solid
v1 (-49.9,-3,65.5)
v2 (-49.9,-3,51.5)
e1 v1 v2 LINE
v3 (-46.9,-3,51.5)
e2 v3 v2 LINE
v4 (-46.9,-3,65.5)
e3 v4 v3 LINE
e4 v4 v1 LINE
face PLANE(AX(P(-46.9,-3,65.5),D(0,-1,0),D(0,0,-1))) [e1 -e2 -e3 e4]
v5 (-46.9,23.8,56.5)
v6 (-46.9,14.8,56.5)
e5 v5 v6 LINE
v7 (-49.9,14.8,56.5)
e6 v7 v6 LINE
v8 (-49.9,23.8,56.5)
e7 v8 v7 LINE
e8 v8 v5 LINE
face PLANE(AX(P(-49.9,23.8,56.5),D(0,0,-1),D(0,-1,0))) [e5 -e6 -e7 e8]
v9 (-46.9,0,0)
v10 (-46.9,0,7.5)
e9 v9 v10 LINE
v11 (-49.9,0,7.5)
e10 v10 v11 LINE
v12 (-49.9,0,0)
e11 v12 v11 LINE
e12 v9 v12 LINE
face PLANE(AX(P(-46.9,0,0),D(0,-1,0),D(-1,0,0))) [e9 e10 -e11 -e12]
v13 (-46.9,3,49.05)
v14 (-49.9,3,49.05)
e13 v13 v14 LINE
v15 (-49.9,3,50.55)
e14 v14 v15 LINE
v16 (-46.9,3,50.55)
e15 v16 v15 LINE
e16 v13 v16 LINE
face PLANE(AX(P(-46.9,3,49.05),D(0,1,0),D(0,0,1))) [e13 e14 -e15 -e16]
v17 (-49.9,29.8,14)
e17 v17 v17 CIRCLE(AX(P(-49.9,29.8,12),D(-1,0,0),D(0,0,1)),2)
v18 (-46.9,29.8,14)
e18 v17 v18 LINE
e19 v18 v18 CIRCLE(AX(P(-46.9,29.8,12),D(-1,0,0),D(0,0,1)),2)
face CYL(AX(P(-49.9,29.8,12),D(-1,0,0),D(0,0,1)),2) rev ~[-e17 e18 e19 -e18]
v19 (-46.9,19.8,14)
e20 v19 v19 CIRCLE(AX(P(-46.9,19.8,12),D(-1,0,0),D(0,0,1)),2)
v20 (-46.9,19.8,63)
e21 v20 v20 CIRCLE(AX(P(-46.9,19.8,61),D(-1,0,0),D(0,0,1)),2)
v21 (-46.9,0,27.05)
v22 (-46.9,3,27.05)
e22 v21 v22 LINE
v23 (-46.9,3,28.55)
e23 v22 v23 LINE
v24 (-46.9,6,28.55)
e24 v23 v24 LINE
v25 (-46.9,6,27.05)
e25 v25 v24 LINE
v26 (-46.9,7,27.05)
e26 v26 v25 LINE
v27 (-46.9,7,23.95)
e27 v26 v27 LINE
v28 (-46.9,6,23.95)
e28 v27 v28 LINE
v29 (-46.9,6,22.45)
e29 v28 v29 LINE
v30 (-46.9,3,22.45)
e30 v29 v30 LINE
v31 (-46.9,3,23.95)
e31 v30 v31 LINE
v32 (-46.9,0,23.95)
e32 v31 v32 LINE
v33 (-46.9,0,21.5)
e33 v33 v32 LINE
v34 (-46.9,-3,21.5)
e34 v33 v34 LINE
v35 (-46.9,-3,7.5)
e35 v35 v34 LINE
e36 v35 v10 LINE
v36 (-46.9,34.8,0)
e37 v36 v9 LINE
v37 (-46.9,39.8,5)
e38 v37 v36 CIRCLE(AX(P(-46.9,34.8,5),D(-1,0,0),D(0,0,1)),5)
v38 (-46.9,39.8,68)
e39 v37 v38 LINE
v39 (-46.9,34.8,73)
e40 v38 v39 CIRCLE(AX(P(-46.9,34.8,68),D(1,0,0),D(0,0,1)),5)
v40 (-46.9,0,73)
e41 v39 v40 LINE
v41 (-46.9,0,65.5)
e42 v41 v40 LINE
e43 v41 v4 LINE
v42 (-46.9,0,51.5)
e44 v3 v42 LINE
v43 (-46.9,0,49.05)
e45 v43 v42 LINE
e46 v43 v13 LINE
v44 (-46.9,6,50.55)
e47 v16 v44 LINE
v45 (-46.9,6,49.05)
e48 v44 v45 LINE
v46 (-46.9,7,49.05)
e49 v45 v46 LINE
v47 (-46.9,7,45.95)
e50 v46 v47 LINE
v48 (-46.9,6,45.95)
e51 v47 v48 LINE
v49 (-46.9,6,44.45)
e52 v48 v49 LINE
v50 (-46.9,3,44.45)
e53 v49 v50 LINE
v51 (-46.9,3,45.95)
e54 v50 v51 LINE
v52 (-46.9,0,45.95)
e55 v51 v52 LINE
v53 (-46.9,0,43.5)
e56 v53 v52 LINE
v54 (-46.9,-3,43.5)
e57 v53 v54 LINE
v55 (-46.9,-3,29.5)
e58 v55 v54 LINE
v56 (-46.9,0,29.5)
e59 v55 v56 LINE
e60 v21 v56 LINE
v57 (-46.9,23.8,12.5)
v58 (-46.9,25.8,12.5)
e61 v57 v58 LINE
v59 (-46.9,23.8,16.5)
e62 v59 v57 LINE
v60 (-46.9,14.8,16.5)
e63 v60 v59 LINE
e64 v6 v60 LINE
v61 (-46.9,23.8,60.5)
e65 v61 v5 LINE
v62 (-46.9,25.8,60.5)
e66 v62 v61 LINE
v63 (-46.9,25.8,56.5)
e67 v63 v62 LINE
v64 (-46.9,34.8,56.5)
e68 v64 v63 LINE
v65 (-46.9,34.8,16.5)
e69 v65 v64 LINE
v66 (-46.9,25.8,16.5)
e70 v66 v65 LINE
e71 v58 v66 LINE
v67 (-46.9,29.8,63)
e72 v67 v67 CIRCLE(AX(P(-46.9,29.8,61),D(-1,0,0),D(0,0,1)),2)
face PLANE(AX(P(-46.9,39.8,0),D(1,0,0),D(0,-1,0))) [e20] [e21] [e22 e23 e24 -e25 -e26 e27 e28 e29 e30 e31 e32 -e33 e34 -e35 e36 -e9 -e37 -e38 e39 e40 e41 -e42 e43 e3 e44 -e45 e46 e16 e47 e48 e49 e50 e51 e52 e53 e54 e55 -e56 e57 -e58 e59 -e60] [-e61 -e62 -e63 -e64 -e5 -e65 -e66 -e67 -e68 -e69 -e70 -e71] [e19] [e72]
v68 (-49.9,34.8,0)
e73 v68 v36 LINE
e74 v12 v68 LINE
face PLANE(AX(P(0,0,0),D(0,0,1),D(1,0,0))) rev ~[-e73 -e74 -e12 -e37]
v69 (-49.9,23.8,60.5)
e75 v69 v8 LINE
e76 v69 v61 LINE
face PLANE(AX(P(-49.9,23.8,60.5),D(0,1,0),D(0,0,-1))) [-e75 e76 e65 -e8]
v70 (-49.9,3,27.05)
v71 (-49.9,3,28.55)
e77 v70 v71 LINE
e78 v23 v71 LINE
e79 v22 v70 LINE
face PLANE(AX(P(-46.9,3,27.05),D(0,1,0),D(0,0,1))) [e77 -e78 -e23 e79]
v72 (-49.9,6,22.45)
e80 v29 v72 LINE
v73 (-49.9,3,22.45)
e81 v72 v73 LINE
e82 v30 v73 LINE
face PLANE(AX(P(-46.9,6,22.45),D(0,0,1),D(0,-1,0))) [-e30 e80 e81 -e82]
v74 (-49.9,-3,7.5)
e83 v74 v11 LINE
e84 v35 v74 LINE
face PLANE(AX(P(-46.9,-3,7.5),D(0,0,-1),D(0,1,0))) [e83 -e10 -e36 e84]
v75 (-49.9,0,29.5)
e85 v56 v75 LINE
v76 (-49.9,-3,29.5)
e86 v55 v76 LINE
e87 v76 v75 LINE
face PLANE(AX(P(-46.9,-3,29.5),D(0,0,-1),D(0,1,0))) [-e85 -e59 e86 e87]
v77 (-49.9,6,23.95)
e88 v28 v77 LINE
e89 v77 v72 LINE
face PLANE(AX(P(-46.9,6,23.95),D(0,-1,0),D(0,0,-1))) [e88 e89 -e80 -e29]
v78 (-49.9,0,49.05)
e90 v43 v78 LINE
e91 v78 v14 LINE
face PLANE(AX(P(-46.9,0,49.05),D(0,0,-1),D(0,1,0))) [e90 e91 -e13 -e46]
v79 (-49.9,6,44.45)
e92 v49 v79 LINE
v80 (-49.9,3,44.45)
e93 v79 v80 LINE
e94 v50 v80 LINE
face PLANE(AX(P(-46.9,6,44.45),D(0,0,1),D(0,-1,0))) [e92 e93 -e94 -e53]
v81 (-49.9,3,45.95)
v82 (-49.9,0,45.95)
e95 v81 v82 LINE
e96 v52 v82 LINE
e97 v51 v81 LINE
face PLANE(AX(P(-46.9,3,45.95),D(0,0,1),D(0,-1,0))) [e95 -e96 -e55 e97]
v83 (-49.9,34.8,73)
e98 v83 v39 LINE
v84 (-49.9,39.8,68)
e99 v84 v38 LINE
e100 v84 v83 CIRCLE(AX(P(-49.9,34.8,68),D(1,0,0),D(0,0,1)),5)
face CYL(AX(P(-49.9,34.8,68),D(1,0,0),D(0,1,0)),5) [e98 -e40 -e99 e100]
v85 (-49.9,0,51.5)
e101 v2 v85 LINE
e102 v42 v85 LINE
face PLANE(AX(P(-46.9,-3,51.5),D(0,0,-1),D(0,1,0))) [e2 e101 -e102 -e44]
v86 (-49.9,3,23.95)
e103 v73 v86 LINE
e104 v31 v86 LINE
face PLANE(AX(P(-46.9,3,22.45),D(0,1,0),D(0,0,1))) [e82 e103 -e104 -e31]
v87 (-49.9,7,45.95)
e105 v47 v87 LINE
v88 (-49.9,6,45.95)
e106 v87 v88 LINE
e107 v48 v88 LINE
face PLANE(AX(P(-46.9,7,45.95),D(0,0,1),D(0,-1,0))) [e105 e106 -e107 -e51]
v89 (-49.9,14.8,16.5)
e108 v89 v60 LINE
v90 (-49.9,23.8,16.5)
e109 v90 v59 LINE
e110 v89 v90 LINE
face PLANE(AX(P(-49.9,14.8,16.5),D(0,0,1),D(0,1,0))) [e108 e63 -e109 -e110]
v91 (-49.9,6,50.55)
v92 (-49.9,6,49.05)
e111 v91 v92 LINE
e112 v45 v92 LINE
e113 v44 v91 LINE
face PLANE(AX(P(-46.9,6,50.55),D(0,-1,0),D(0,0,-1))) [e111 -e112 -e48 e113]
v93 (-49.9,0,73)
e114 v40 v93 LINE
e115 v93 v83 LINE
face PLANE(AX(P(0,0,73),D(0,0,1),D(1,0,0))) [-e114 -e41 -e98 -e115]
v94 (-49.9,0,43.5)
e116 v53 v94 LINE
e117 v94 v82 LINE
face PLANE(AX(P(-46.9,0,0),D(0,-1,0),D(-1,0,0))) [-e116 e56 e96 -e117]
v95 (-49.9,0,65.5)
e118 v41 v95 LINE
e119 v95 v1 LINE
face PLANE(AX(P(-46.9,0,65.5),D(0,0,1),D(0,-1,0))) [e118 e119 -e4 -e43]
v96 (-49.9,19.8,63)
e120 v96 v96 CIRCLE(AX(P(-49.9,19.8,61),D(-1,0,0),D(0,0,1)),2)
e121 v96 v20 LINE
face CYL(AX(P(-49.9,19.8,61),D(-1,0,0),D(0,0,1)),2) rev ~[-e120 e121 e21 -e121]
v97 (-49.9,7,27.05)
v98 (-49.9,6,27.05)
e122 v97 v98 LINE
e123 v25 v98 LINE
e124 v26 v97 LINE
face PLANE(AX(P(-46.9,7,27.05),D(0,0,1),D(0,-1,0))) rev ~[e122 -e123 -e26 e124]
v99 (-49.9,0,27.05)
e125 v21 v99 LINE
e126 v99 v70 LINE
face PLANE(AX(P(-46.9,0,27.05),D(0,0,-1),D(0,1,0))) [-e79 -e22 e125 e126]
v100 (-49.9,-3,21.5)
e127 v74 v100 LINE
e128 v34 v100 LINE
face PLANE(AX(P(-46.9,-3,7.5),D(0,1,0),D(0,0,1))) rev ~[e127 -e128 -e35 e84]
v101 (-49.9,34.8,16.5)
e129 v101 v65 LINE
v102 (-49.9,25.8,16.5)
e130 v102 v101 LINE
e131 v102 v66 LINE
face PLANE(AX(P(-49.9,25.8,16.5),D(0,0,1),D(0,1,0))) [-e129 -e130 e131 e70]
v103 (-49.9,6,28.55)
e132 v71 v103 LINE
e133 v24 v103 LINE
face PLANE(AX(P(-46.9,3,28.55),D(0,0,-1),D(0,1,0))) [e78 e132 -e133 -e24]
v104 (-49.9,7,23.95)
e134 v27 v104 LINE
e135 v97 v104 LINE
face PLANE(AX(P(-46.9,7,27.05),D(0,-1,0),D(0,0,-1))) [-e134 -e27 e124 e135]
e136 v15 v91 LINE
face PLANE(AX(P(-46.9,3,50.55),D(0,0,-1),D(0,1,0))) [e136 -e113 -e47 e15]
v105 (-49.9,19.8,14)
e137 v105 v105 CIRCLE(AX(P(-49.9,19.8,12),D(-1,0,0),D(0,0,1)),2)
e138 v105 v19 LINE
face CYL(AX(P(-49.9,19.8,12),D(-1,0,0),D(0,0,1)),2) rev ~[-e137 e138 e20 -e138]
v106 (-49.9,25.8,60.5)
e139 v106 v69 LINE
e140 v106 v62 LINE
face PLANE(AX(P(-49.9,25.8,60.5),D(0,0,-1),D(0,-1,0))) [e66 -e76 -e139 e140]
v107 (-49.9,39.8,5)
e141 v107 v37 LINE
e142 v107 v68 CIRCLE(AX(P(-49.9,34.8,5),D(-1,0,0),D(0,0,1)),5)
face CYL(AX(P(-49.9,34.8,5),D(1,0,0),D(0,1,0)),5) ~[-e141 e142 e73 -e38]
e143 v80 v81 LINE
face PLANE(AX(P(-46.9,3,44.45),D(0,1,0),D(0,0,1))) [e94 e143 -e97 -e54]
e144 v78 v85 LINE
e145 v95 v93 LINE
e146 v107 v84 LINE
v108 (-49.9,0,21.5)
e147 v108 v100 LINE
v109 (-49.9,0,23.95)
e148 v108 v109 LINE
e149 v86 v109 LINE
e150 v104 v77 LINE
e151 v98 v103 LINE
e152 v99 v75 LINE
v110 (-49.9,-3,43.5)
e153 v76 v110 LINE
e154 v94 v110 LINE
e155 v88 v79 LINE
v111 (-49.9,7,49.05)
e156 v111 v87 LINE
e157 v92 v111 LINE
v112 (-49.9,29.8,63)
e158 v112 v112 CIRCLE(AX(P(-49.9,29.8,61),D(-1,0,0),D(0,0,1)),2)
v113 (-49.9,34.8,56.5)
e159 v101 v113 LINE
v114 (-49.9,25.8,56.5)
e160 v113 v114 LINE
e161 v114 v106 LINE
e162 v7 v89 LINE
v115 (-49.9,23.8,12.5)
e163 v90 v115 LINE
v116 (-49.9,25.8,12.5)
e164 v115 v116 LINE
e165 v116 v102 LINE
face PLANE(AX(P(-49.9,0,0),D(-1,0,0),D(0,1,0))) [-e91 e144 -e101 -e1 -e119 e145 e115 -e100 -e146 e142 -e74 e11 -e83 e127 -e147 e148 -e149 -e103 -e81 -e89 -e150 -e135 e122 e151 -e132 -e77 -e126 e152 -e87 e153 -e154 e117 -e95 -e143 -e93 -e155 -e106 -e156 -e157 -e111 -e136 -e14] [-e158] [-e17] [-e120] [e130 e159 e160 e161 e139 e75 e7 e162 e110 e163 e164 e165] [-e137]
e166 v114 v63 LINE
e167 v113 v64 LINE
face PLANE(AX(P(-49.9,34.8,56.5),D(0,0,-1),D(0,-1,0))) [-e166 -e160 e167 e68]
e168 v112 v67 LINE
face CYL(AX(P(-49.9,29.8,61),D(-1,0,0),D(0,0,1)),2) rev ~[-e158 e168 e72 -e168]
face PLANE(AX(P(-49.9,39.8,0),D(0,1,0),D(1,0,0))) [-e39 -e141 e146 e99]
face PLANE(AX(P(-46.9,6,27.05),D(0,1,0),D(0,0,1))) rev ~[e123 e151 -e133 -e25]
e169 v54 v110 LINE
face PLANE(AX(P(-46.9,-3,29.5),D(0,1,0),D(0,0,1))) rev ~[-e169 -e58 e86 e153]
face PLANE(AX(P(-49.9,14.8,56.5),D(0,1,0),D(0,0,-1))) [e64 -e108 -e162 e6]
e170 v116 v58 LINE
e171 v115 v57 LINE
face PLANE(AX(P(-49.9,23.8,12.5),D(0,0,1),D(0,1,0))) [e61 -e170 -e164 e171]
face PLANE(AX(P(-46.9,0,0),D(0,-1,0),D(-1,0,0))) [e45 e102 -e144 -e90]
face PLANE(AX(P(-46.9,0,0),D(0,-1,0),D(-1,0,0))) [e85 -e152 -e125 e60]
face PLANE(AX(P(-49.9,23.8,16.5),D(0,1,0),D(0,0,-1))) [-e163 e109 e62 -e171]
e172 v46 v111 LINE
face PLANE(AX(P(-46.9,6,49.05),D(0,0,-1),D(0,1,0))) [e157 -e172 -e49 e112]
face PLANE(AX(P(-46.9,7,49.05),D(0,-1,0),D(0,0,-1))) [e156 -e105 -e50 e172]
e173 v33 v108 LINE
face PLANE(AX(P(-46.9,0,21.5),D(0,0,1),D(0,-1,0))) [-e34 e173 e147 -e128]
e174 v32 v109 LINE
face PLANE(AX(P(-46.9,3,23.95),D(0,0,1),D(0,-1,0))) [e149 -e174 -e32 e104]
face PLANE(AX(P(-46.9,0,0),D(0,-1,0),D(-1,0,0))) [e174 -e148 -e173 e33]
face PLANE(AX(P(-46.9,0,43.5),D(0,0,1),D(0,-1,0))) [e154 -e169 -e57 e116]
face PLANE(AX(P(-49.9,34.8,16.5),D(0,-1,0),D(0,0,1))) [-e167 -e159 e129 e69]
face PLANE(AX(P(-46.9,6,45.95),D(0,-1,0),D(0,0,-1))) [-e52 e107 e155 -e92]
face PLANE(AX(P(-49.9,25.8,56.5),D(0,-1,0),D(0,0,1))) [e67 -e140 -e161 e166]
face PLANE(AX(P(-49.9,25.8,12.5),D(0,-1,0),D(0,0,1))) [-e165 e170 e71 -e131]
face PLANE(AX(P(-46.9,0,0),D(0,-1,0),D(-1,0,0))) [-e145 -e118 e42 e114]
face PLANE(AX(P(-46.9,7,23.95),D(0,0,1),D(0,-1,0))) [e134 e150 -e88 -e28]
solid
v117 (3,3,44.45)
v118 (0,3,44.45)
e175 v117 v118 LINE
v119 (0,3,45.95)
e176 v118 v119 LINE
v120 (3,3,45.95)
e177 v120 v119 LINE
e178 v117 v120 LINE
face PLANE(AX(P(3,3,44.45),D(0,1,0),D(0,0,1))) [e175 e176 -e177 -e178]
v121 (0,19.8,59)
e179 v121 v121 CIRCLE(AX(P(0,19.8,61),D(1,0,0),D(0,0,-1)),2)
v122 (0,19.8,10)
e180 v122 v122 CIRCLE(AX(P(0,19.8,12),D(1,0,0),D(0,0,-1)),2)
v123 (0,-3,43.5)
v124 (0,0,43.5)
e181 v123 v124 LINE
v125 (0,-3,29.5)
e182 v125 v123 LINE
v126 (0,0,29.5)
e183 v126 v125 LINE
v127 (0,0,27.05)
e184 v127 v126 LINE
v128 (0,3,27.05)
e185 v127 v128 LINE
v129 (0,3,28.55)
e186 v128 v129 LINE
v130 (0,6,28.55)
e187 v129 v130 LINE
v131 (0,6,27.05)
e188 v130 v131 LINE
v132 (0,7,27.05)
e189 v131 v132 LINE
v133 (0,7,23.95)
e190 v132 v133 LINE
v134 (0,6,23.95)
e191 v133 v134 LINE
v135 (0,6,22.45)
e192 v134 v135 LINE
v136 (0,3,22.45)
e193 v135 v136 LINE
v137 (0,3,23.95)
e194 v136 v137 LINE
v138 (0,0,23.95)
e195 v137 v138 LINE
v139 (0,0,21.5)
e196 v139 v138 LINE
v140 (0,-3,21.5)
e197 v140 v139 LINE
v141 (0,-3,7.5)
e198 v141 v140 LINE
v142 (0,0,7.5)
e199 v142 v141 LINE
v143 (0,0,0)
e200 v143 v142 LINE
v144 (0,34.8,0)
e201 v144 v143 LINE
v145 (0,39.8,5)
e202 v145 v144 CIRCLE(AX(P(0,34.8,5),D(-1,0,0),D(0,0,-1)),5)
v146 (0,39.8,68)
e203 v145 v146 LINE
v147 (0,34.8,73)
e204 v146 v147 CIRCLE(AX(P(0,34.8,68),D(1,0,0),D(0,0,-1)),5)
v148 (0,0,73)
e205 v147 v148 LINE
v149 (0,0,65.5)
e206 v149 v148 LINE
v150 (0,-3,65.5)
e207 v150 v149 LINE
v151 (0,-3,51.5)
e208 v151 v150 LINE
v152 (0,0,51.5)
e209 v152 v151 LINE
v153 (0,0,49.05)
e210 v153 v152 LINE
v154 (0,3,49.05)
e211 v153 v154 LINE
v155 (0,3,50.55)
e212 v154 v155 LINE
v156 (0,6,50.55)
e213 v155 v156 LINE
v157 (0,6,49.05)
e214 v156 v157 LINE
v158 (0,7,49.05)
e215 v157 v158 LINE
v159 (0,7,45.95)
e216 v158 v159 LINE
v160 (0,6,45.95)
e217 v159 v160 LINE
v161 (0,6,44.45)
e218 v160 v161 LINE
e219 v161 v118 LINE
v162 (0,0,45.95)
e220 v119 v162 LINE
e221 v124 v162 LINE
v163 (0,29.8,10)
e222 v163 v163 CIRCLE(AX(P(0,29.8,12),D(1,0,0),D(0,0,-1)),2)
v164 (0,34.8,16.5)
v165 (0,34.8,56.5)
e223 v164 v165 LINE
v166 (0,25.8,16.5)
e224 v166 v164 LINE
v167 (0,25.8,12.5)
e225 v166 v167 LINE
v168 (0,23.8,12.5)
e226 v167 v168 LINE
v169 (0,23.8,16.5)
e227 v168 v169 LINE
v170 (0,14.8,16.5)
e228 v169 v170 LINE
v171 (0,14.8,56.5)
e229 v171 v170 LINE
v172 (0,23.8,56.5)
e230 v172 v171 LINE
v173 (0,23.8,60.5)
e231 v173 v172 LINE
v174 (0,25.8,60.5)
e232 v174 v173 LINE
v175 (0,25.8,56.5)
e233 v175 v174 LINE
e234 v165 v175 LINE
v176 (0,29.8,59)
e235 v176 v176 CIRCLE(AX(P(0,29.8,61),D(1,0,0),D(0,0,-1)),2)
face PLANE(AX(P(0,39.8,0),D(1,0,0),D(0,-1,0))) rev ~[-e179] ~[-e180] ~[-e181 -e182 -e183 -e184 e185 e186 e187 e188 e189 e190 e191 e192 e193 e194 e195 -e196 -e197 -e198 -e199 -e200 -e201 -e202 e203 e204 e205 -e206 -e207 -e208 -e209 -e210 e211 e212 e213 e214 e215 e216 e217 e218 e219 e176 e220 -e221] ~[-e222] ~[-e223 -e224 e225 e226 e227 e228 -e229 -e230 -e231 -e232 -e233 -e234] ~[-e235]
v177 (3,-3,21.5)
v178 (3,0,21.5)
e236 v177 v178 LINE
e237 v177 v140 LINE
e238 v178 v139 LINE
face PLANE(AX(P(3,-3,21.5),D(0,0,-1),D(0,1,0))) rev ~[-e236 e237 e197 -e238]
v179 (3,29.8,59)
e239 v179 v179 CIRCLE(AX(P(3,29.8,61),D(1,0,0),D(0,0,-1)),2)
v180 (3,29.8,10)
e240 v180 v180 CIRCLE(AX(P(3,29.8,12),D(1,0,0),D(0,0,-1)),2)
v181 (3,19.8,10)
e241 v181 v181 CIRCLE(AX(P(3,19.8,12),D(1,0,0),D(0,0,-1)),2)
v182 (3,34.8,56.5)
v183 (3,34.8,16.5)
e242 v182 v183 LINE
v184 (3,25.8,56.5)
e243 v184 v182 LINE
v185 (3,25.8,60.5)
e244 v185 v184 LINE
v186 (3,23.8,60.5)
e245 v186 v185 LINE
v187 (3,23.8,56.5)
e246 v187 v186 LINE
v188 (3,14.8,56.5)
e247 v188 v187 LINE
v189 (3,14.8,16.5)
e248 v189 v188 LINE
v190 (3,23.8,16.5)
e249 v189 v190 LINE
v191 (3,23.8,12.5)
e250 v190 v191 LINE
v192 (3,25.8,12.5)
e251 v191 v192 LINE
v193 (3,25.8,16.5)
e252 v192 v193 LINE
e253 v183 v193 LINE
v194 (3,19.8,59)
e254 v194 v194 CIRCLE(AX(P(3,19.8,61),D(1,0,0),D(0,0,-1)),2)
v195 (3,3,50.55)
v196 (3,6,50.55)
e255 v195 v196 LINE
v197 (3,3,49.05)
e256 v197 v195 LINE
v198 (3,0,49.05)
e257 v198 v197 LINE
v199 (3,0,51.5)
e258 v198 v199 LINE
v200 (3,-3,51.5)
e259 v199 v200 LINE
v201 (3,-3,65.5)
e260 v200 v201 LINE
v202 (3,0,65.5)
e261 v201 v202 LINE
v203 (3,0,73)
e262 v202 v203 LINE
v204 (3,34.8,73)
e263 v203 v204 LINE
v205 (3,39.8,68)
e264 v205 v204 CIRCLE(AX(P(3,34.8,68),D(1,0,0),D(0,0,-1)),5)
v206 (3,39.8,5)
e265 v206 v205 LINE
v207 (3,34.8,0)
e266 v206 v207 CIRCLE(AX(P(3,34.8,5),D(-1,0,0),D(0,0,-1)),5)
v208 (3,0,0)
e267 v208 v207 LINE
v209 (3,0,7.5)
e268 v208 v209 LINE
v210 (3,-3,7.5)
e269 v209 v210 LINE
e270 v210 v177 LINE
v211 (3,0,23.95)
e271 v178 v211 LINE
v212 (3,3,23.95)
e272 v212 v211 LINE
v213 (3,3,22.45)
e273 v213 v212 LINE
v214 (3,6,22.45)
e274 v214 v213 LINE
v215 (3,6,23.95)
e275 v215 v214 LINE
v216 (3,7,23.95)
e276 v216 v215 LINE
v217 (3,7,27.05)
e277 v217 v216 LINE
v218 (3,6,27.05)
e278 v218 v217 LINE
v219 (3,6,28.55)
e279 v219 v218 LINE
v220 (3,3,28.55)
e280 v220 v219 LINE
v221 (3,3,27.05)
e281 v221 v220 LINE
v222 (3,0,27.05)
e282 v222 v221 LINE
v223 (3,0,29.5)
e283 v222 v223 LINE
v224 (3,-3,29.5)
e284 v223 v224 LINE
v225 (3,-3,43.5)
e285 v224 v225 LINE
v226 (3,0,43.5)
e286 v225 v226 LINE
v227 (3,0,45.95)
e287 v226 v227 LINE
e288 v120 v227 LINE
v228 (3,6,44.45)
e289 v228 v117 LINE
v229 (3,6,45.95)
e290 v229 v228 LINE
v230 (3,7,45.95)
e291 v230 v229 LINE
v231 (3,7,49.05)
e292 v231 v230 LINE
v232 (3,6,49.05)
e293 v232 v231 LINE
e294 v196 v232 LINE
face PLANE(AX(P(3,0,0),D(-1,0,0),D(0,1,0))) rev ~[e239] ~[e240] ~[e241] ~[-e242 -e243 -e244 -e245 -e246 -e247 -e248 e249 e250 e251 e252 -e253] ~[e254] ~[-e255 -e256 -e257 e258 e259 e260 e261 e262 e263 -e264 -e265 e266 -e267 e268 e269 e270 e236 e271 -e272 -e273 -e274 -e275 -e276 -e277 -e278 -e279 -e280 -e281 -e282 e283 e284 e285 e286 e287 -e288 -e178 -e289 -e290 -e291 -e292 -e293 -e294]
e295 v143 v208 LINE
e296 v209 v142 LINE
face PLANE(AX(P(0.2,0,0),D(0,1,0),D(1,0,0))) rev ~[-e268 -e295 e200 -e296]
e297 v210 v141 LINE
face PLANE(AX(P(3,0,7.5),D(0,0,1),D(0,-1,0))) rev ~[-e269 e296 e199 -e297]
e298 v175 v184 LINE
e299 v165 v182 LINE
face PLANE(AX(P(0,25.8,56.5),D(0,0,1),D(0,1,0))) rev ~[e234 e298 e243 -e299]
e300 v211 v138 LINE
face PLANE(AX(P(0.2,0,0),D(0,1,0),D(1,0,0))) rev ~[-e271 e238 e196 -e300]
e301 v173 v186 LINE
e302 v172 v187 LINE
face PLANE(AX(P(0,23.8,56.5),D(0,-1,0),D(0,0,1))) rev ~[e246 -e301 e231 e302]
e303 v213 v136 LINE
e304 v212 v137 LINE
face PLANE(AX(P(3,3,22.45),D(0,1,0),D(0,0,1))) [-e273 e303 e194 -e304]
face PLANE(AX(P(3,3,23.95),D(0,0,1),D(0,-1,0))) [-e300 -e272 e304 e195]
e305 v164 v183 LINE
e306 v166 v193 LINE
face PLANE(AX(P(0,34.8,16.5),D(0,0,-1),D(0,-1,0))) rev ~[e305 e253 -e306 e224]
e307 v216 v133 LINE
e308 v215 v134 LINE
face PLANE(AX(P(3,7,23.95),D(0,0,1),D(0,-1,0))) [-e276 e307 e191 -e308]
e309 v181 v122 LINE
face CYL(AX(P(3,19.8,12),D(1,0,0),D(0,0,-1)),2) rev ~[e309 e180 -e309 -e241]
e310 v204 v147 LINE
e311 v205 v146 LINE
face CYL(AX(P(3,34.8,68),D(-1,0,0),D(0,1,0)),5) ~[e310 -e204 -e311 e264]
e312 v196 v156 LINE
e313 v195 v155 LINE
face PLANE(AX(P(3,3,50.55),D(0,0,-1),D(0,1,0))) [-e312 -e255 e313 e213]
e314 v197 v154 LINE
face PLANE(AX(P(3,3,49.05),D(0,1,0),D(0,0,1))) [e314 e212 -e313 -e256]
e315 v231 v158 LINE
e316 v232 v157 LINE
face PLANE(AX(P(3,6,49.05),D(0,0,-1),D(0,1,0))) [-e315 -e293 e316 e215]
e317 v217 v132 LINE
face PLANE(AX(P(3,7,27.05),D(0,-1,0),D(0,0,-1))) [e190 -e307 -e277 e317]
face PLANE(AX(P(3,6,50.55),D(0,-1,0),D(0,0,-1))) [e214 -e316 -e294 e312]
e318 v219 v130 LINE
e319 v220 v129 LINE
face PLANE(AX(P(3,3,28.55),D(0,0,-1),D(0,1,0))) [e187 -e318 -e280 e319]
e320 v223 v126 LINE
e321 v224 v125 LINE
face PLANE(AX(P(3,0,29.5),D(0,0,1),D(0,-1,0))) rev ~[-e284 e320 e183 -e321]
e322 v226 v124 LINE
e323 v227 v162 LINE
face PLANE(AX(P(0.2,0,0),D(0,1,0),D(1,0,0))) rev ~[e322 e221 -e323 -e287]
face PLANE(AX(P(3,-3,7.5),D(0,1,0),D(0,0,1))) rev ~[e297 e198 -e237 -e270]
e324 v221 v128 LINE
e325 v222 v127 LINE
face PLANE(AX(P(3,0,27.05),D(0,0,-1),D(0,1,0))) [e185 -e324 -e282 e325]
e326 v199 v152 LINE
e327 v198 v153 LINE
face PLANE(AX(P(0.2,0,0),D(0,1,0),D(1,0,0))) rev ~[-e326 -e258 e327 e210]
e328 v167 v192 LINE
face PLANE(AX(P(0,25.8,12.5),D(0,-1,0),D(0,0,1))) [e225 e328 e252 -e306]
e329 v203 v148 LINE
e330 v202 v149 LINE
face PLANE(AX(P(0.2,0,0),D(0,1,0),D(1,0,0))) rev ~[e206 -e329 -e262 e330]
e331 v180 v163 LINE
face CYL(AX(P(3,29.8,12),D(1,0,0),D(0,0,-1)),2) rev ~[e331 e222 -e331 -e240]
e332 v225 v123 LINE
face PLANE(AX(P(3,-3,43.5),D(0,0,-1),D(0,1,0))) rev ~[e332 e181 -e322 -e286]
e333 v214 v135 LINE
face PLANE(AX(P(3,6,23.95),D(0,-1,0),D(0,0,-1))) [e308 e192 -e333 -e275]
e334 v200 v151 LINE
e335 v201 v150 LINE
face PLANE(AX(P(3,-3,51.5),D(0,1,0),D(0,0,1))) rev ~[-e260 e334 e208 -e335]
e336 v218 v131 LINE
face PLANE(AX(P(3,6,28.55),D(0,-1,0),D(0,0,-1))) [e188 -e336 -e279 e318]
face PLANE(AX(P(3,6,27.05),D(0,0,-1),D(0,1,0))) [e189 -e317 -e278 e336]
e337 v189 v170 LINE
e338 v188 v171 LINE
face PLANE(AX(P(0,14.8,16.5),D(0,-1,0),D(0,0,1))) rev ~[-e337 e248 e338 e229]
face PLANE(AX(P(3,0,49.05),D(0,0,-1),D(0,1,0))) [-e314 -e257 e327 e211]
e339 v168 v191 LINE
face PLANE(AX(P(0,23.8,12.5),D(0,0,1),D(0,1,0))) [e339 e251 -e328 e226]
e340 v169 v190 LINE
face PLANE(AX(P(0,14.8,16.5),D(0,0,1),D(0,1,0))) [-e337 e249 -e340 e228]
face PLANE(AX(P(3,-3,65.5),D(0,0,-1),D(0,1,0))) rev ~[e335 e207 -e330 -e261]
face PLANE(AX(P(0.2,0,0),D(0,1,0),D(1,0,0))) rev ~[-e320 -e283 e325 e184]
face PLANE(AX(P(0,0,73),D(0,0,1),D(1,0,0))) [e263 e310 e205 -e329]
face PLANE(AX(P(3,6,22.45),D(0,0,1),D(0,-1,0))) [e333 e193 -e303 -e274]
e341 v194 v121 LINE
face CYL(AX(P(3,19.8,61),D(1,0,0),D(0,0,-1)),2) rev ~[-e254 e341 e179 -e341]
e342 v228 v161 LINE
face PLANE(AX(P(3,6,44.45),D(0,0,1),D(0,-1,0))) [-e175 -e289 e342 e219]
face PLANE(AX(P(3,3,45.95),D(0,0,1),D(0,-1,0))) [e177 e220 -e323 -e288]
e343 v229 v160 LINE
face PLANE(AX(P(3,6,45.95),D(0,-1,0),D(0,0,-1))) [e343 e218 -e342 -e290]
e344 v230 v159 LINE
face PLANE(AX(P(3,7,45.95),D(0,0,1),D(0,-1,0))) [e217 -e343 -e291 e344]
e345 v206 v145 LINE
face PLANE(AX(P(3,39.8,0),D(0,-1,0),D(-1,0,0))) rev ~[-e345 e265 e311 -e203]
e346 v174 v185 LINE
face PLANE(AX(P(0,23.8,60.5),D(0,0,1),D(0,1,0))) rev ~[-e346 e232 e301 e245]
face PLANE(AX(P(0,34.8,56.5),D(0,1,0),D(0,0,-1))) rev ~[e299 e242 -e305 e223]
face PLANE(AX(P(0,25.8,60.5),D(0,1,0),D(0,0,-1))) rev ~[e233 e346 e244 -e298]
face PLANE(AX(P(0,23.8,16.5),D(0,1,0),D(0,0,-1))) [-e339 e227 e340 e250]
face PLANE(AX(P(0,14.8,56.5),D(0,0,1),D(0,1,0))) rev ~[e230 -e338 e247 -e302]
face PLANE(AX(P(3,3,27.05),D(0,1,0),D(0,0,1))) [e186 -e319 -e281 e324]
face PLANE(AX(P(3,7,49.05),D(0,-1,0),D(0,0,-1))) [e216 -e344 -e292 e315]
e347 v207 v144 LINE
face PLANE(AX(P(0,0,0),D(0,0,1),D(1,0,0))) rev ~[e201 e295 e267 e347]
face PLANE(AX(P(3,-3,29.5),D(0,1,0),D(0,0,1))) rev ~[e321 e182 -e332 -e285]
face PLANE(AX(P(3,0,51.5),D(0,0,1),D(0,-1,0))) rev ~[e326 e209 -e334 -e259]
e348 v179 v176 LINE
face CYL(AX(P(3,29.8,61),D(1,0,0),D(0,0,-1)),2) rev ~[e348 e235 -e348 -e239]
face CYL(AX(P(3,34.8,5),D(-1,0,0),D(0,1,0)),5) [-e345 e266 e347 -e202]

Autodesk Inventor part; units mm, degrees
ref_plane "YZ Plane" through (0, 0, 0) normal (1, 0, 0) x (0, 1, 0)
ref_plane "XZ Plane" through (0, 0, 0) normal (0, 1, 0) x (-1, 0, 0)
ref_plane "XY Plane" through (0, 0, 0) normal (0, 0, 1) x (1, 0, 0)
sketch "Sketch1" plane through (0, 0, 0) normal (0, 0, 1) x (1, 0, 0)
  line L0 (0, 0) -> (3, 0)
  line L1 (3, 0) -> (3, 39.8)
  line L2 (3, 39.8) -> (0, 39.8)
  line L3 (0, 39.8) -> (0, 0)
  line L4 (-50.3, 0) -> (-47, 0) construction
  line L5 (-47, 0) -> (-47, 3.3) construction
  line L6 (-50.3, 3.3) -> (-47, 3.3) construction
  line L7 (-50.3, 0) -> (-50.3, 3.3) construction
  line L8 (0.2, 0) -> (3.3, 0)
  line L9 (0.2, 0) -> (3.3, 0)
  line L10 (-46.9, 0) -> (-49.9, 0)
  line L11 (-49.9, 0) -> (-49.9, 39.8)
  line L12 (-49.9, 39.8) -> (-46.9, 39.8)
  line L13 (-46.9, 39.8) -> (-46.9, 0)
  dimension "d0" = 3
  dimension "d1" = 39.8
  dimension "d22" = 3
  dimension "d23" = 46.9
  dimension "d150" = 39.8
extrude "Extrusion1" add sketch "Sketch1" along normal blind 73
sketch "Sketch2" plane through (0, 0, 0) normal (-1, 0, 0) x (0, 0, 1)
  line L0 (0, 0) -> (35, 0)
  line L1 (35, 0) -> (35, 14.8)
  line L2 (16.5, 14.8) -> (56.5, 14.8)
  line L3 (56.5, 34.8) -> (16.5, 34.8)
  line L4 (0, 39.8) -> (0, 0) projected
  line L5 (73, 39.8) -> (73, 0) projected
  line L6 (56.5, 14.8) -> (56.5, 23.8)
  line L7 (56.5, 23.8) -> (60.5, 23.8)
  line L8 (60.5, 23.8) -> (60.5, 25.8)
  line L9 (60.5, 25.8) -> (56.5, 25.8)
  line L10 (56.5, 14.8) -> (56.5, 23.8)
  line L11 (56.5, 25.8) -> (56.5, 34.8)
  line L12 (16.5, 14.8) -> (16.5, 23.8)
  line L13 (16.5, 23.8) -> (12.5, 23.8)
  line L14 (12.5, 23.8) -> (12.5, 25.8)
  line L15 (12.5, 25.8) -> (16.5, 25.8)
  line L16 (16.5, 34.8) -> (16.5, 25.8)
  line L17 (16.5, 23.8) -> (16.5, 14.8)
  dimension "d5" = 35
  dimension "d6" = 14.8
  dimension "d7" = 40
  dimension "d8" = 20
  dimension "d9" = 14.8
  dimension "d19" = 38
  dimension "d142" = 9
  dimension "d143" = 4
  dimension "d144" = 2
  dimension "d145" = 9
  dimension "d146" = 4
extrude "Extrusion2" cut sketch "Sketch2" against normal blind 3 and the other way blind 8.05
fillet "Fillet1" radius 5 4 edges at (1.5, 39.8, 0) (1.5, 39.8, 73) (-48.4, 39.8, 0) (-48.4, 39.8, 73)
sketch "Sketch4" plane through (-49.9, 0, 0) normal (-1, 0, 0) x (0, 0, 1)
  line L0 (56.5, 14.8) -> (16.5, 14.8) projected
  line L1 (16.5, 25.8) -> (16.5, 34.8) projected
  line L2 (16.5, 34.8) -> (56.5, 34.8) projected
  line L3 (16.5, 34.8) -> (56.5, 34.8)
  line L4 (56.5, 14.8) -> (16.5, 14.8)
  line L5 (16.5, 23.8) -> (12.5, 23.8) projected
  line L6 (12.5, 25.8) -> (16.5, 25.8) projected
  line L7 (12.5, 23.8) -> (12.5, 25.8) projected
  line L8 (60.5, 23.8) -> (56.5, 23.8) projected
  line L9 (56.5, 25.8) -> (60.5, 25.8) projected
  line L10 (60.5, 25.8) -> (60.5, 23.8) projected
  line L11 (16.5, 23.8) -> (12.5, 23.8)
  line L12 (12.5, 23.8) -> (12.5, 25.8)
  line L13 (16.5, 25.8) -> (12.5, 25.8)
  line L14 (56.5, 23.8) -> (60.5, 23.8)
  line L15 (60.5, 23.8) -> (60.5, 25.8)
  line L16 (60.5, 25.8) -> (56.5, 25.8)
  line L17 (56.5, 34.8) -> (56.5, 25.8)
  line L18 (56.5, 23.8) -> (56.5, 14.8)
  line L19 (16.5, 14.8) -> (16.5, 23.8)
  line L20 (16.5, 25.8) -> (16.5, 34.8)
  point P0 (0, 0)
  point P1 (56.5, 34.8)
extrude "Extrusion4" cut sketch "Sketch4" against normal blind 3
sketch "Sketch6" plane through (3, 0, 73) normal (1, 0, 0) x (0, 0, -1)
  line L0 (65.5, 0) -> (65.5, -3)
  line L1 (65.5, -3) -> (51.5, -3)
  line L2 (51.5, -3) -> (51.5, 0)
  line L3 (43.5, 0) -> (43.5, -3)
  line L4 (43.5, -3) -> (29.5, -3)
  line L5 (29.5, -3) -> (29.5, 0)
  line L6 (21.5, 0) -> (21.5, -3)
  line L7 (21.5, -3) -> (7.5, -3)
  line L8 (7.5, -3) -> (7.5, 0)
  line L9 (21.5, 0) -> (7.5, 0)
  line L10 (65.5, 0) -> (51.5, 0)
  line L11 (43.5, 0) -> (29.5, 0)
  line L12 (0, 0) -> (0, 34.8) projected
  line L13 (73, 0) -> (73, 34.8) projected
  dimension "d78" = 3
  dimension "d79" = 14
  dimension "d80" = 8
  dimension "d81" = 14
  dimension "d82" = 8
  dimension "d83" = 14
  dimension "d84" = 7.5
  dimension "d85" = 7.5
extrude "Extrusion5" add sketch "Sketch6" against normal blind 3
sketch "Sketch7" plane through (3, 0, 0) normal (1, 0, 0) x (0, 0, -1)
  line L0 (0, 0) -> (0, 34.8) projected
  line L1 (-49.05, 0) -> (-49.05, 3)
  line L2 (-49.05, 3) -> (-50.55, 3)
  line L3 (-50.55, 3) -> (-50.55, 6)
  line L4 (-50.55, 6) -> (-49.05, 6)
  line L5 (-49.05, 6) -> (-49.05, 7)
  line L6 (-49.05, 7) -> (-45.95, 7)
  line L7 (-45.95, 7) -> (-45.95, 6)
  line L8 (-45.95, 6) -> (-44.45, 6)
  line L9 (-44.45, 3) -> (-45.95, 3)
  line L10 (-45.95, 3) -> (-45.95, 0)
  line L11 (-44.45, 6) -> (-44.45, 3)
  line L12 (-49.05, 0) -> (-45.95, 0)
  line L13 (-51.5, -3) -> (-51.5, 0) projected
  line L14 (-21.5, 0) -> (-29.5, 0) projected
  line L15 (-29.5, 0) -> (-27.05, 0)
  line L16 (-27.05, 0) -> (-23.95, 0)
  line L17 (-27.05, 0) -> (-27.05, 3)
  line L18 (-27.05, 3) -> (-28.55, 3)
  line L19 (-28.55, 3) -> (-28.55, 6)
  line L20 (-28.55, 6) -> (-27.05, 6)
  line L21 (-27.05, 6) -> (-27.05, 7)
  line L22 (-27.05, 7) -> (-23.95, 7)
  line L23 (-23.95, 7) -> (-23.95, 6)
  line L24 (-23.95, 6) -> (-22.45, 6)
  line L25 (-22.45, 6) -> (-22.45, 3)
  line L26 (-22.45, 3) -> (-23.95, 3)
  line L27 (-23.95, 3) -> (-23.95, 0)
  line L28 (-43.5, -3) -> (-29.5, -3) projected
  dimension "d89" = 3
  dimension "d92" = 3.1
  dimension "d96" = 1.5
  dimension "d98" = 2.45
  dimension "d99" = 2.45
  dimension "d100" = 3.1
  dimension "d101" = 3
  dimension "d102" = 1.5
  dimension "d104" = 1.5
  dimension "d107" = 1.5
  dimension "d108" = 1
  dimension "d109" = 3.1
  dimension "d110" = 1
  dimension "d111" = 3
  dimension "d112" = 3
  dimension "d113" = 6.1
  dimension "d114" = 6.1
  dimension "d116" = 3
  dimension "d117" = 3
  dimension "d118" = 10
  dimension "d119" = 3
extrude "Extrusion6" cut sketch "Sketch7" against normal blind 3
sketch "Sketch8" plane through (-49.9, 0, 0) normal (-1, 0, 0) x (0, 0, 1)
  circle A0 centre (61, 29.8) radius 2
  circle A1 centre (12, 29.8) radius 2
  circle A2 centre (12, 19.8) radius 2
  circle A3 centre (61, 19.8) radius 2
  line L0 (16.5, 34.8) -> (56.5, 34.8) projected
  line L1 (56.5, 14.8) -> (16.5, 14.8) projected
  point P0 (0, 0)
  dimension "d127" = 4
  dimension "d128" = 4
  dimension "d130" = 4
  dimension "d131" = 4
  dimension "d134" = 5
  dimension "d135" = 5
  dimension "d136" = 10
  dimension "d137" = 10
  dimension "d138" = 5
  dimension "d139" = 5
  dimension "d140" = 49
  dimension "d141" = 49
extrude "Extrusion7" cut sketch "Sketch8" against normal up to surface (3 mm away)
sketch "Sketch9" plane through (3, 0, 0) normal (1, 0, 0) x (0, 0, -1)
  circle A0 centre (-12, 29.8) radius 2 projected
  circle A1 centre (-12, 19.8) radius 2 projected
  circle A2 centre (-61, 29.8) radius 2 projected
  circle A3 centre (-61, 19.8) radius 2 projected
  circle A4 centre (-61, 29.8) radius 2
  circle A5 centre (-61, 19.8) radius 2
  circle A6 centre (-12, 19.8) radius 2
  circle A7 centre (-12, 29.8) radius 2
  point P0 (0, 0)
extrude "Extrusion8" cut sketch "Sketch9" against normal up to surface (3 mm away)
sketch "Sketch10" plane through (-46.9, 0, 73) normal (1, 0, 0) x (0, 0, -1)
  line L0 (7.5, -3) -> (21.5, -3) projected
  line L1 (73, 0) -> (0, 0) projected
  line L2 (7.5, -3) -> (21.5, -3)
  line L3 (21.5, -3) -> (21.5, 0)
  line L4 (21.5, 0) -> (7.5, 0)
  line L5 (7.5, 0) -> (7.5, -3)
  line L6 (43.5, -3) -> (29.5, -3) projected
  line L7 (29.5, -3) -> (43.5, -3)
  line L8 (43.5, -3) -> (43.5, 0)
  line L9 (43.5, 0) -> (29.5, 0)
  line L10 (29.5, 0) -> (29.5, -3)
  line L11 (65.5, -3) -> (51.5, -3) projected
  line L12 (51.5, -3) -> (65.5, -3)
  line L13 (65.5, -3) -> (65.5, 0)
  line L14 (65.5, 0) -> (51.5, 0)
  line L15 (51.5, 0) -> (51.5, -3)
  point P0 (51.5, 0)
  point P1 (65.5, -3)
  point P2 (65.5, 0)
  point P3 (29.5, 0)
  point P4 (43.5, -3)
  point P5 (43.5, 0)
  point P6 (7.5, 0)
  point P7 (21.5, -3)
  dimension "d147" = 14
  dimension "d148" = 14
  dimension "d149" = 14
extrude "Extrusion9" add sketch "Sketch10" against normal blind 3
sketch "Sketch11" plane through (-46.9, 0, 0) normal (1, 0, 0) x (0, 0, -1)
  line L0 (0, 0) -> (0, 34.8)
  arc A0 (-5, 39.8) -> (0, 34.8) centre (-5, 34.8) ccw projected
  line L1 (-23.95, 3) -> (-23.95, 0) projected
  line L2 (-49.05, 0) -> (-49.05, 3) projected
  line L3 (-49.05, 3) -> (-50.55, 3) projected
  line L4 (-50.55, 3) -> (-50.55, 6) projected
  line L5 (-50.55, 6) -> (-49.05, 6) projected
  line L6 (-49.05, 6) -> (-49.05, 7) projected
  line L7 (-49.05, 7) -> (-45.95, 7) projected
  line L8 (-45.95, 7) -> (-45.95, 6) projected
  line L9 (-27.05, 0) -> (-27.05, 3) projected
  line L10 (-27.05, 3) -> (-28.55, 3) projected
  line L11 (-28.55, 3) -> (-28.55, 6) projected
  line L12 (-49.05, 0) -> (-49.05, 3)
  line L13 (-50.55, 3) -> (-49.05, 3)
  line L14 (-50.55, 3) -> (-50.55, 6)
  line L15 (-50.55, 6) -> (-49.05, 6)
  line L16 (-49.05, 6) -> (-49.05, 7)
  line L17 (-49.05, 7) -> (-45.95, 7)
  line L18 (-45.95, 7) -> (-45.95, 6)
  line L19 (-28.55, 3) -> (-28.55, 6)
  line L20 (-27.05, 3) -> (-27.05, 0)
  line L21 (-23.95, 0) -> (-23.95, 3)
  line L22 (-27.05, 3) -> (-28.55, 3)
  line L23 (-23.95, 6) -> (-22.45, 6)
  line L24 (-27.05, 7) -> (-23.95, 7)
  line L25 (-23.95, 7) -> (-23.95, 6)
  line L26 (-22.45, 6) -> (-22.45, 3)
  line L27 (-22.45, 3) -> (-23.95, 3)
  line L28 (-27.05, 0) -> (-23.95, 0)
  line L29 (-21.5, 0) -> (-29.5, 0) projected
  line L30 (-27.05, 7) -> (-27.05, 6)
  line L31 (-27.05, 6) -> (-28.55, 6)
  line L32 (-45.95, 6) -> (-44.45, 6)
  line L33 (-44.45, 6) -> (-44.45, 3)
  line L34 (-44.45, 3) -> (-45.95, 3)
  line L35 (-45.95, 3) -> (-45.95, 0)
  line L36 (-45.95, 0) -> (-49.05, 0)
  point P0 (-23.95, 3)
  point P1 (-23.95, 0)
extrude "Extrusion10" cut sketch "Sketch11" against normal blind 3
properties part number "BaseMotoresHombrp"
